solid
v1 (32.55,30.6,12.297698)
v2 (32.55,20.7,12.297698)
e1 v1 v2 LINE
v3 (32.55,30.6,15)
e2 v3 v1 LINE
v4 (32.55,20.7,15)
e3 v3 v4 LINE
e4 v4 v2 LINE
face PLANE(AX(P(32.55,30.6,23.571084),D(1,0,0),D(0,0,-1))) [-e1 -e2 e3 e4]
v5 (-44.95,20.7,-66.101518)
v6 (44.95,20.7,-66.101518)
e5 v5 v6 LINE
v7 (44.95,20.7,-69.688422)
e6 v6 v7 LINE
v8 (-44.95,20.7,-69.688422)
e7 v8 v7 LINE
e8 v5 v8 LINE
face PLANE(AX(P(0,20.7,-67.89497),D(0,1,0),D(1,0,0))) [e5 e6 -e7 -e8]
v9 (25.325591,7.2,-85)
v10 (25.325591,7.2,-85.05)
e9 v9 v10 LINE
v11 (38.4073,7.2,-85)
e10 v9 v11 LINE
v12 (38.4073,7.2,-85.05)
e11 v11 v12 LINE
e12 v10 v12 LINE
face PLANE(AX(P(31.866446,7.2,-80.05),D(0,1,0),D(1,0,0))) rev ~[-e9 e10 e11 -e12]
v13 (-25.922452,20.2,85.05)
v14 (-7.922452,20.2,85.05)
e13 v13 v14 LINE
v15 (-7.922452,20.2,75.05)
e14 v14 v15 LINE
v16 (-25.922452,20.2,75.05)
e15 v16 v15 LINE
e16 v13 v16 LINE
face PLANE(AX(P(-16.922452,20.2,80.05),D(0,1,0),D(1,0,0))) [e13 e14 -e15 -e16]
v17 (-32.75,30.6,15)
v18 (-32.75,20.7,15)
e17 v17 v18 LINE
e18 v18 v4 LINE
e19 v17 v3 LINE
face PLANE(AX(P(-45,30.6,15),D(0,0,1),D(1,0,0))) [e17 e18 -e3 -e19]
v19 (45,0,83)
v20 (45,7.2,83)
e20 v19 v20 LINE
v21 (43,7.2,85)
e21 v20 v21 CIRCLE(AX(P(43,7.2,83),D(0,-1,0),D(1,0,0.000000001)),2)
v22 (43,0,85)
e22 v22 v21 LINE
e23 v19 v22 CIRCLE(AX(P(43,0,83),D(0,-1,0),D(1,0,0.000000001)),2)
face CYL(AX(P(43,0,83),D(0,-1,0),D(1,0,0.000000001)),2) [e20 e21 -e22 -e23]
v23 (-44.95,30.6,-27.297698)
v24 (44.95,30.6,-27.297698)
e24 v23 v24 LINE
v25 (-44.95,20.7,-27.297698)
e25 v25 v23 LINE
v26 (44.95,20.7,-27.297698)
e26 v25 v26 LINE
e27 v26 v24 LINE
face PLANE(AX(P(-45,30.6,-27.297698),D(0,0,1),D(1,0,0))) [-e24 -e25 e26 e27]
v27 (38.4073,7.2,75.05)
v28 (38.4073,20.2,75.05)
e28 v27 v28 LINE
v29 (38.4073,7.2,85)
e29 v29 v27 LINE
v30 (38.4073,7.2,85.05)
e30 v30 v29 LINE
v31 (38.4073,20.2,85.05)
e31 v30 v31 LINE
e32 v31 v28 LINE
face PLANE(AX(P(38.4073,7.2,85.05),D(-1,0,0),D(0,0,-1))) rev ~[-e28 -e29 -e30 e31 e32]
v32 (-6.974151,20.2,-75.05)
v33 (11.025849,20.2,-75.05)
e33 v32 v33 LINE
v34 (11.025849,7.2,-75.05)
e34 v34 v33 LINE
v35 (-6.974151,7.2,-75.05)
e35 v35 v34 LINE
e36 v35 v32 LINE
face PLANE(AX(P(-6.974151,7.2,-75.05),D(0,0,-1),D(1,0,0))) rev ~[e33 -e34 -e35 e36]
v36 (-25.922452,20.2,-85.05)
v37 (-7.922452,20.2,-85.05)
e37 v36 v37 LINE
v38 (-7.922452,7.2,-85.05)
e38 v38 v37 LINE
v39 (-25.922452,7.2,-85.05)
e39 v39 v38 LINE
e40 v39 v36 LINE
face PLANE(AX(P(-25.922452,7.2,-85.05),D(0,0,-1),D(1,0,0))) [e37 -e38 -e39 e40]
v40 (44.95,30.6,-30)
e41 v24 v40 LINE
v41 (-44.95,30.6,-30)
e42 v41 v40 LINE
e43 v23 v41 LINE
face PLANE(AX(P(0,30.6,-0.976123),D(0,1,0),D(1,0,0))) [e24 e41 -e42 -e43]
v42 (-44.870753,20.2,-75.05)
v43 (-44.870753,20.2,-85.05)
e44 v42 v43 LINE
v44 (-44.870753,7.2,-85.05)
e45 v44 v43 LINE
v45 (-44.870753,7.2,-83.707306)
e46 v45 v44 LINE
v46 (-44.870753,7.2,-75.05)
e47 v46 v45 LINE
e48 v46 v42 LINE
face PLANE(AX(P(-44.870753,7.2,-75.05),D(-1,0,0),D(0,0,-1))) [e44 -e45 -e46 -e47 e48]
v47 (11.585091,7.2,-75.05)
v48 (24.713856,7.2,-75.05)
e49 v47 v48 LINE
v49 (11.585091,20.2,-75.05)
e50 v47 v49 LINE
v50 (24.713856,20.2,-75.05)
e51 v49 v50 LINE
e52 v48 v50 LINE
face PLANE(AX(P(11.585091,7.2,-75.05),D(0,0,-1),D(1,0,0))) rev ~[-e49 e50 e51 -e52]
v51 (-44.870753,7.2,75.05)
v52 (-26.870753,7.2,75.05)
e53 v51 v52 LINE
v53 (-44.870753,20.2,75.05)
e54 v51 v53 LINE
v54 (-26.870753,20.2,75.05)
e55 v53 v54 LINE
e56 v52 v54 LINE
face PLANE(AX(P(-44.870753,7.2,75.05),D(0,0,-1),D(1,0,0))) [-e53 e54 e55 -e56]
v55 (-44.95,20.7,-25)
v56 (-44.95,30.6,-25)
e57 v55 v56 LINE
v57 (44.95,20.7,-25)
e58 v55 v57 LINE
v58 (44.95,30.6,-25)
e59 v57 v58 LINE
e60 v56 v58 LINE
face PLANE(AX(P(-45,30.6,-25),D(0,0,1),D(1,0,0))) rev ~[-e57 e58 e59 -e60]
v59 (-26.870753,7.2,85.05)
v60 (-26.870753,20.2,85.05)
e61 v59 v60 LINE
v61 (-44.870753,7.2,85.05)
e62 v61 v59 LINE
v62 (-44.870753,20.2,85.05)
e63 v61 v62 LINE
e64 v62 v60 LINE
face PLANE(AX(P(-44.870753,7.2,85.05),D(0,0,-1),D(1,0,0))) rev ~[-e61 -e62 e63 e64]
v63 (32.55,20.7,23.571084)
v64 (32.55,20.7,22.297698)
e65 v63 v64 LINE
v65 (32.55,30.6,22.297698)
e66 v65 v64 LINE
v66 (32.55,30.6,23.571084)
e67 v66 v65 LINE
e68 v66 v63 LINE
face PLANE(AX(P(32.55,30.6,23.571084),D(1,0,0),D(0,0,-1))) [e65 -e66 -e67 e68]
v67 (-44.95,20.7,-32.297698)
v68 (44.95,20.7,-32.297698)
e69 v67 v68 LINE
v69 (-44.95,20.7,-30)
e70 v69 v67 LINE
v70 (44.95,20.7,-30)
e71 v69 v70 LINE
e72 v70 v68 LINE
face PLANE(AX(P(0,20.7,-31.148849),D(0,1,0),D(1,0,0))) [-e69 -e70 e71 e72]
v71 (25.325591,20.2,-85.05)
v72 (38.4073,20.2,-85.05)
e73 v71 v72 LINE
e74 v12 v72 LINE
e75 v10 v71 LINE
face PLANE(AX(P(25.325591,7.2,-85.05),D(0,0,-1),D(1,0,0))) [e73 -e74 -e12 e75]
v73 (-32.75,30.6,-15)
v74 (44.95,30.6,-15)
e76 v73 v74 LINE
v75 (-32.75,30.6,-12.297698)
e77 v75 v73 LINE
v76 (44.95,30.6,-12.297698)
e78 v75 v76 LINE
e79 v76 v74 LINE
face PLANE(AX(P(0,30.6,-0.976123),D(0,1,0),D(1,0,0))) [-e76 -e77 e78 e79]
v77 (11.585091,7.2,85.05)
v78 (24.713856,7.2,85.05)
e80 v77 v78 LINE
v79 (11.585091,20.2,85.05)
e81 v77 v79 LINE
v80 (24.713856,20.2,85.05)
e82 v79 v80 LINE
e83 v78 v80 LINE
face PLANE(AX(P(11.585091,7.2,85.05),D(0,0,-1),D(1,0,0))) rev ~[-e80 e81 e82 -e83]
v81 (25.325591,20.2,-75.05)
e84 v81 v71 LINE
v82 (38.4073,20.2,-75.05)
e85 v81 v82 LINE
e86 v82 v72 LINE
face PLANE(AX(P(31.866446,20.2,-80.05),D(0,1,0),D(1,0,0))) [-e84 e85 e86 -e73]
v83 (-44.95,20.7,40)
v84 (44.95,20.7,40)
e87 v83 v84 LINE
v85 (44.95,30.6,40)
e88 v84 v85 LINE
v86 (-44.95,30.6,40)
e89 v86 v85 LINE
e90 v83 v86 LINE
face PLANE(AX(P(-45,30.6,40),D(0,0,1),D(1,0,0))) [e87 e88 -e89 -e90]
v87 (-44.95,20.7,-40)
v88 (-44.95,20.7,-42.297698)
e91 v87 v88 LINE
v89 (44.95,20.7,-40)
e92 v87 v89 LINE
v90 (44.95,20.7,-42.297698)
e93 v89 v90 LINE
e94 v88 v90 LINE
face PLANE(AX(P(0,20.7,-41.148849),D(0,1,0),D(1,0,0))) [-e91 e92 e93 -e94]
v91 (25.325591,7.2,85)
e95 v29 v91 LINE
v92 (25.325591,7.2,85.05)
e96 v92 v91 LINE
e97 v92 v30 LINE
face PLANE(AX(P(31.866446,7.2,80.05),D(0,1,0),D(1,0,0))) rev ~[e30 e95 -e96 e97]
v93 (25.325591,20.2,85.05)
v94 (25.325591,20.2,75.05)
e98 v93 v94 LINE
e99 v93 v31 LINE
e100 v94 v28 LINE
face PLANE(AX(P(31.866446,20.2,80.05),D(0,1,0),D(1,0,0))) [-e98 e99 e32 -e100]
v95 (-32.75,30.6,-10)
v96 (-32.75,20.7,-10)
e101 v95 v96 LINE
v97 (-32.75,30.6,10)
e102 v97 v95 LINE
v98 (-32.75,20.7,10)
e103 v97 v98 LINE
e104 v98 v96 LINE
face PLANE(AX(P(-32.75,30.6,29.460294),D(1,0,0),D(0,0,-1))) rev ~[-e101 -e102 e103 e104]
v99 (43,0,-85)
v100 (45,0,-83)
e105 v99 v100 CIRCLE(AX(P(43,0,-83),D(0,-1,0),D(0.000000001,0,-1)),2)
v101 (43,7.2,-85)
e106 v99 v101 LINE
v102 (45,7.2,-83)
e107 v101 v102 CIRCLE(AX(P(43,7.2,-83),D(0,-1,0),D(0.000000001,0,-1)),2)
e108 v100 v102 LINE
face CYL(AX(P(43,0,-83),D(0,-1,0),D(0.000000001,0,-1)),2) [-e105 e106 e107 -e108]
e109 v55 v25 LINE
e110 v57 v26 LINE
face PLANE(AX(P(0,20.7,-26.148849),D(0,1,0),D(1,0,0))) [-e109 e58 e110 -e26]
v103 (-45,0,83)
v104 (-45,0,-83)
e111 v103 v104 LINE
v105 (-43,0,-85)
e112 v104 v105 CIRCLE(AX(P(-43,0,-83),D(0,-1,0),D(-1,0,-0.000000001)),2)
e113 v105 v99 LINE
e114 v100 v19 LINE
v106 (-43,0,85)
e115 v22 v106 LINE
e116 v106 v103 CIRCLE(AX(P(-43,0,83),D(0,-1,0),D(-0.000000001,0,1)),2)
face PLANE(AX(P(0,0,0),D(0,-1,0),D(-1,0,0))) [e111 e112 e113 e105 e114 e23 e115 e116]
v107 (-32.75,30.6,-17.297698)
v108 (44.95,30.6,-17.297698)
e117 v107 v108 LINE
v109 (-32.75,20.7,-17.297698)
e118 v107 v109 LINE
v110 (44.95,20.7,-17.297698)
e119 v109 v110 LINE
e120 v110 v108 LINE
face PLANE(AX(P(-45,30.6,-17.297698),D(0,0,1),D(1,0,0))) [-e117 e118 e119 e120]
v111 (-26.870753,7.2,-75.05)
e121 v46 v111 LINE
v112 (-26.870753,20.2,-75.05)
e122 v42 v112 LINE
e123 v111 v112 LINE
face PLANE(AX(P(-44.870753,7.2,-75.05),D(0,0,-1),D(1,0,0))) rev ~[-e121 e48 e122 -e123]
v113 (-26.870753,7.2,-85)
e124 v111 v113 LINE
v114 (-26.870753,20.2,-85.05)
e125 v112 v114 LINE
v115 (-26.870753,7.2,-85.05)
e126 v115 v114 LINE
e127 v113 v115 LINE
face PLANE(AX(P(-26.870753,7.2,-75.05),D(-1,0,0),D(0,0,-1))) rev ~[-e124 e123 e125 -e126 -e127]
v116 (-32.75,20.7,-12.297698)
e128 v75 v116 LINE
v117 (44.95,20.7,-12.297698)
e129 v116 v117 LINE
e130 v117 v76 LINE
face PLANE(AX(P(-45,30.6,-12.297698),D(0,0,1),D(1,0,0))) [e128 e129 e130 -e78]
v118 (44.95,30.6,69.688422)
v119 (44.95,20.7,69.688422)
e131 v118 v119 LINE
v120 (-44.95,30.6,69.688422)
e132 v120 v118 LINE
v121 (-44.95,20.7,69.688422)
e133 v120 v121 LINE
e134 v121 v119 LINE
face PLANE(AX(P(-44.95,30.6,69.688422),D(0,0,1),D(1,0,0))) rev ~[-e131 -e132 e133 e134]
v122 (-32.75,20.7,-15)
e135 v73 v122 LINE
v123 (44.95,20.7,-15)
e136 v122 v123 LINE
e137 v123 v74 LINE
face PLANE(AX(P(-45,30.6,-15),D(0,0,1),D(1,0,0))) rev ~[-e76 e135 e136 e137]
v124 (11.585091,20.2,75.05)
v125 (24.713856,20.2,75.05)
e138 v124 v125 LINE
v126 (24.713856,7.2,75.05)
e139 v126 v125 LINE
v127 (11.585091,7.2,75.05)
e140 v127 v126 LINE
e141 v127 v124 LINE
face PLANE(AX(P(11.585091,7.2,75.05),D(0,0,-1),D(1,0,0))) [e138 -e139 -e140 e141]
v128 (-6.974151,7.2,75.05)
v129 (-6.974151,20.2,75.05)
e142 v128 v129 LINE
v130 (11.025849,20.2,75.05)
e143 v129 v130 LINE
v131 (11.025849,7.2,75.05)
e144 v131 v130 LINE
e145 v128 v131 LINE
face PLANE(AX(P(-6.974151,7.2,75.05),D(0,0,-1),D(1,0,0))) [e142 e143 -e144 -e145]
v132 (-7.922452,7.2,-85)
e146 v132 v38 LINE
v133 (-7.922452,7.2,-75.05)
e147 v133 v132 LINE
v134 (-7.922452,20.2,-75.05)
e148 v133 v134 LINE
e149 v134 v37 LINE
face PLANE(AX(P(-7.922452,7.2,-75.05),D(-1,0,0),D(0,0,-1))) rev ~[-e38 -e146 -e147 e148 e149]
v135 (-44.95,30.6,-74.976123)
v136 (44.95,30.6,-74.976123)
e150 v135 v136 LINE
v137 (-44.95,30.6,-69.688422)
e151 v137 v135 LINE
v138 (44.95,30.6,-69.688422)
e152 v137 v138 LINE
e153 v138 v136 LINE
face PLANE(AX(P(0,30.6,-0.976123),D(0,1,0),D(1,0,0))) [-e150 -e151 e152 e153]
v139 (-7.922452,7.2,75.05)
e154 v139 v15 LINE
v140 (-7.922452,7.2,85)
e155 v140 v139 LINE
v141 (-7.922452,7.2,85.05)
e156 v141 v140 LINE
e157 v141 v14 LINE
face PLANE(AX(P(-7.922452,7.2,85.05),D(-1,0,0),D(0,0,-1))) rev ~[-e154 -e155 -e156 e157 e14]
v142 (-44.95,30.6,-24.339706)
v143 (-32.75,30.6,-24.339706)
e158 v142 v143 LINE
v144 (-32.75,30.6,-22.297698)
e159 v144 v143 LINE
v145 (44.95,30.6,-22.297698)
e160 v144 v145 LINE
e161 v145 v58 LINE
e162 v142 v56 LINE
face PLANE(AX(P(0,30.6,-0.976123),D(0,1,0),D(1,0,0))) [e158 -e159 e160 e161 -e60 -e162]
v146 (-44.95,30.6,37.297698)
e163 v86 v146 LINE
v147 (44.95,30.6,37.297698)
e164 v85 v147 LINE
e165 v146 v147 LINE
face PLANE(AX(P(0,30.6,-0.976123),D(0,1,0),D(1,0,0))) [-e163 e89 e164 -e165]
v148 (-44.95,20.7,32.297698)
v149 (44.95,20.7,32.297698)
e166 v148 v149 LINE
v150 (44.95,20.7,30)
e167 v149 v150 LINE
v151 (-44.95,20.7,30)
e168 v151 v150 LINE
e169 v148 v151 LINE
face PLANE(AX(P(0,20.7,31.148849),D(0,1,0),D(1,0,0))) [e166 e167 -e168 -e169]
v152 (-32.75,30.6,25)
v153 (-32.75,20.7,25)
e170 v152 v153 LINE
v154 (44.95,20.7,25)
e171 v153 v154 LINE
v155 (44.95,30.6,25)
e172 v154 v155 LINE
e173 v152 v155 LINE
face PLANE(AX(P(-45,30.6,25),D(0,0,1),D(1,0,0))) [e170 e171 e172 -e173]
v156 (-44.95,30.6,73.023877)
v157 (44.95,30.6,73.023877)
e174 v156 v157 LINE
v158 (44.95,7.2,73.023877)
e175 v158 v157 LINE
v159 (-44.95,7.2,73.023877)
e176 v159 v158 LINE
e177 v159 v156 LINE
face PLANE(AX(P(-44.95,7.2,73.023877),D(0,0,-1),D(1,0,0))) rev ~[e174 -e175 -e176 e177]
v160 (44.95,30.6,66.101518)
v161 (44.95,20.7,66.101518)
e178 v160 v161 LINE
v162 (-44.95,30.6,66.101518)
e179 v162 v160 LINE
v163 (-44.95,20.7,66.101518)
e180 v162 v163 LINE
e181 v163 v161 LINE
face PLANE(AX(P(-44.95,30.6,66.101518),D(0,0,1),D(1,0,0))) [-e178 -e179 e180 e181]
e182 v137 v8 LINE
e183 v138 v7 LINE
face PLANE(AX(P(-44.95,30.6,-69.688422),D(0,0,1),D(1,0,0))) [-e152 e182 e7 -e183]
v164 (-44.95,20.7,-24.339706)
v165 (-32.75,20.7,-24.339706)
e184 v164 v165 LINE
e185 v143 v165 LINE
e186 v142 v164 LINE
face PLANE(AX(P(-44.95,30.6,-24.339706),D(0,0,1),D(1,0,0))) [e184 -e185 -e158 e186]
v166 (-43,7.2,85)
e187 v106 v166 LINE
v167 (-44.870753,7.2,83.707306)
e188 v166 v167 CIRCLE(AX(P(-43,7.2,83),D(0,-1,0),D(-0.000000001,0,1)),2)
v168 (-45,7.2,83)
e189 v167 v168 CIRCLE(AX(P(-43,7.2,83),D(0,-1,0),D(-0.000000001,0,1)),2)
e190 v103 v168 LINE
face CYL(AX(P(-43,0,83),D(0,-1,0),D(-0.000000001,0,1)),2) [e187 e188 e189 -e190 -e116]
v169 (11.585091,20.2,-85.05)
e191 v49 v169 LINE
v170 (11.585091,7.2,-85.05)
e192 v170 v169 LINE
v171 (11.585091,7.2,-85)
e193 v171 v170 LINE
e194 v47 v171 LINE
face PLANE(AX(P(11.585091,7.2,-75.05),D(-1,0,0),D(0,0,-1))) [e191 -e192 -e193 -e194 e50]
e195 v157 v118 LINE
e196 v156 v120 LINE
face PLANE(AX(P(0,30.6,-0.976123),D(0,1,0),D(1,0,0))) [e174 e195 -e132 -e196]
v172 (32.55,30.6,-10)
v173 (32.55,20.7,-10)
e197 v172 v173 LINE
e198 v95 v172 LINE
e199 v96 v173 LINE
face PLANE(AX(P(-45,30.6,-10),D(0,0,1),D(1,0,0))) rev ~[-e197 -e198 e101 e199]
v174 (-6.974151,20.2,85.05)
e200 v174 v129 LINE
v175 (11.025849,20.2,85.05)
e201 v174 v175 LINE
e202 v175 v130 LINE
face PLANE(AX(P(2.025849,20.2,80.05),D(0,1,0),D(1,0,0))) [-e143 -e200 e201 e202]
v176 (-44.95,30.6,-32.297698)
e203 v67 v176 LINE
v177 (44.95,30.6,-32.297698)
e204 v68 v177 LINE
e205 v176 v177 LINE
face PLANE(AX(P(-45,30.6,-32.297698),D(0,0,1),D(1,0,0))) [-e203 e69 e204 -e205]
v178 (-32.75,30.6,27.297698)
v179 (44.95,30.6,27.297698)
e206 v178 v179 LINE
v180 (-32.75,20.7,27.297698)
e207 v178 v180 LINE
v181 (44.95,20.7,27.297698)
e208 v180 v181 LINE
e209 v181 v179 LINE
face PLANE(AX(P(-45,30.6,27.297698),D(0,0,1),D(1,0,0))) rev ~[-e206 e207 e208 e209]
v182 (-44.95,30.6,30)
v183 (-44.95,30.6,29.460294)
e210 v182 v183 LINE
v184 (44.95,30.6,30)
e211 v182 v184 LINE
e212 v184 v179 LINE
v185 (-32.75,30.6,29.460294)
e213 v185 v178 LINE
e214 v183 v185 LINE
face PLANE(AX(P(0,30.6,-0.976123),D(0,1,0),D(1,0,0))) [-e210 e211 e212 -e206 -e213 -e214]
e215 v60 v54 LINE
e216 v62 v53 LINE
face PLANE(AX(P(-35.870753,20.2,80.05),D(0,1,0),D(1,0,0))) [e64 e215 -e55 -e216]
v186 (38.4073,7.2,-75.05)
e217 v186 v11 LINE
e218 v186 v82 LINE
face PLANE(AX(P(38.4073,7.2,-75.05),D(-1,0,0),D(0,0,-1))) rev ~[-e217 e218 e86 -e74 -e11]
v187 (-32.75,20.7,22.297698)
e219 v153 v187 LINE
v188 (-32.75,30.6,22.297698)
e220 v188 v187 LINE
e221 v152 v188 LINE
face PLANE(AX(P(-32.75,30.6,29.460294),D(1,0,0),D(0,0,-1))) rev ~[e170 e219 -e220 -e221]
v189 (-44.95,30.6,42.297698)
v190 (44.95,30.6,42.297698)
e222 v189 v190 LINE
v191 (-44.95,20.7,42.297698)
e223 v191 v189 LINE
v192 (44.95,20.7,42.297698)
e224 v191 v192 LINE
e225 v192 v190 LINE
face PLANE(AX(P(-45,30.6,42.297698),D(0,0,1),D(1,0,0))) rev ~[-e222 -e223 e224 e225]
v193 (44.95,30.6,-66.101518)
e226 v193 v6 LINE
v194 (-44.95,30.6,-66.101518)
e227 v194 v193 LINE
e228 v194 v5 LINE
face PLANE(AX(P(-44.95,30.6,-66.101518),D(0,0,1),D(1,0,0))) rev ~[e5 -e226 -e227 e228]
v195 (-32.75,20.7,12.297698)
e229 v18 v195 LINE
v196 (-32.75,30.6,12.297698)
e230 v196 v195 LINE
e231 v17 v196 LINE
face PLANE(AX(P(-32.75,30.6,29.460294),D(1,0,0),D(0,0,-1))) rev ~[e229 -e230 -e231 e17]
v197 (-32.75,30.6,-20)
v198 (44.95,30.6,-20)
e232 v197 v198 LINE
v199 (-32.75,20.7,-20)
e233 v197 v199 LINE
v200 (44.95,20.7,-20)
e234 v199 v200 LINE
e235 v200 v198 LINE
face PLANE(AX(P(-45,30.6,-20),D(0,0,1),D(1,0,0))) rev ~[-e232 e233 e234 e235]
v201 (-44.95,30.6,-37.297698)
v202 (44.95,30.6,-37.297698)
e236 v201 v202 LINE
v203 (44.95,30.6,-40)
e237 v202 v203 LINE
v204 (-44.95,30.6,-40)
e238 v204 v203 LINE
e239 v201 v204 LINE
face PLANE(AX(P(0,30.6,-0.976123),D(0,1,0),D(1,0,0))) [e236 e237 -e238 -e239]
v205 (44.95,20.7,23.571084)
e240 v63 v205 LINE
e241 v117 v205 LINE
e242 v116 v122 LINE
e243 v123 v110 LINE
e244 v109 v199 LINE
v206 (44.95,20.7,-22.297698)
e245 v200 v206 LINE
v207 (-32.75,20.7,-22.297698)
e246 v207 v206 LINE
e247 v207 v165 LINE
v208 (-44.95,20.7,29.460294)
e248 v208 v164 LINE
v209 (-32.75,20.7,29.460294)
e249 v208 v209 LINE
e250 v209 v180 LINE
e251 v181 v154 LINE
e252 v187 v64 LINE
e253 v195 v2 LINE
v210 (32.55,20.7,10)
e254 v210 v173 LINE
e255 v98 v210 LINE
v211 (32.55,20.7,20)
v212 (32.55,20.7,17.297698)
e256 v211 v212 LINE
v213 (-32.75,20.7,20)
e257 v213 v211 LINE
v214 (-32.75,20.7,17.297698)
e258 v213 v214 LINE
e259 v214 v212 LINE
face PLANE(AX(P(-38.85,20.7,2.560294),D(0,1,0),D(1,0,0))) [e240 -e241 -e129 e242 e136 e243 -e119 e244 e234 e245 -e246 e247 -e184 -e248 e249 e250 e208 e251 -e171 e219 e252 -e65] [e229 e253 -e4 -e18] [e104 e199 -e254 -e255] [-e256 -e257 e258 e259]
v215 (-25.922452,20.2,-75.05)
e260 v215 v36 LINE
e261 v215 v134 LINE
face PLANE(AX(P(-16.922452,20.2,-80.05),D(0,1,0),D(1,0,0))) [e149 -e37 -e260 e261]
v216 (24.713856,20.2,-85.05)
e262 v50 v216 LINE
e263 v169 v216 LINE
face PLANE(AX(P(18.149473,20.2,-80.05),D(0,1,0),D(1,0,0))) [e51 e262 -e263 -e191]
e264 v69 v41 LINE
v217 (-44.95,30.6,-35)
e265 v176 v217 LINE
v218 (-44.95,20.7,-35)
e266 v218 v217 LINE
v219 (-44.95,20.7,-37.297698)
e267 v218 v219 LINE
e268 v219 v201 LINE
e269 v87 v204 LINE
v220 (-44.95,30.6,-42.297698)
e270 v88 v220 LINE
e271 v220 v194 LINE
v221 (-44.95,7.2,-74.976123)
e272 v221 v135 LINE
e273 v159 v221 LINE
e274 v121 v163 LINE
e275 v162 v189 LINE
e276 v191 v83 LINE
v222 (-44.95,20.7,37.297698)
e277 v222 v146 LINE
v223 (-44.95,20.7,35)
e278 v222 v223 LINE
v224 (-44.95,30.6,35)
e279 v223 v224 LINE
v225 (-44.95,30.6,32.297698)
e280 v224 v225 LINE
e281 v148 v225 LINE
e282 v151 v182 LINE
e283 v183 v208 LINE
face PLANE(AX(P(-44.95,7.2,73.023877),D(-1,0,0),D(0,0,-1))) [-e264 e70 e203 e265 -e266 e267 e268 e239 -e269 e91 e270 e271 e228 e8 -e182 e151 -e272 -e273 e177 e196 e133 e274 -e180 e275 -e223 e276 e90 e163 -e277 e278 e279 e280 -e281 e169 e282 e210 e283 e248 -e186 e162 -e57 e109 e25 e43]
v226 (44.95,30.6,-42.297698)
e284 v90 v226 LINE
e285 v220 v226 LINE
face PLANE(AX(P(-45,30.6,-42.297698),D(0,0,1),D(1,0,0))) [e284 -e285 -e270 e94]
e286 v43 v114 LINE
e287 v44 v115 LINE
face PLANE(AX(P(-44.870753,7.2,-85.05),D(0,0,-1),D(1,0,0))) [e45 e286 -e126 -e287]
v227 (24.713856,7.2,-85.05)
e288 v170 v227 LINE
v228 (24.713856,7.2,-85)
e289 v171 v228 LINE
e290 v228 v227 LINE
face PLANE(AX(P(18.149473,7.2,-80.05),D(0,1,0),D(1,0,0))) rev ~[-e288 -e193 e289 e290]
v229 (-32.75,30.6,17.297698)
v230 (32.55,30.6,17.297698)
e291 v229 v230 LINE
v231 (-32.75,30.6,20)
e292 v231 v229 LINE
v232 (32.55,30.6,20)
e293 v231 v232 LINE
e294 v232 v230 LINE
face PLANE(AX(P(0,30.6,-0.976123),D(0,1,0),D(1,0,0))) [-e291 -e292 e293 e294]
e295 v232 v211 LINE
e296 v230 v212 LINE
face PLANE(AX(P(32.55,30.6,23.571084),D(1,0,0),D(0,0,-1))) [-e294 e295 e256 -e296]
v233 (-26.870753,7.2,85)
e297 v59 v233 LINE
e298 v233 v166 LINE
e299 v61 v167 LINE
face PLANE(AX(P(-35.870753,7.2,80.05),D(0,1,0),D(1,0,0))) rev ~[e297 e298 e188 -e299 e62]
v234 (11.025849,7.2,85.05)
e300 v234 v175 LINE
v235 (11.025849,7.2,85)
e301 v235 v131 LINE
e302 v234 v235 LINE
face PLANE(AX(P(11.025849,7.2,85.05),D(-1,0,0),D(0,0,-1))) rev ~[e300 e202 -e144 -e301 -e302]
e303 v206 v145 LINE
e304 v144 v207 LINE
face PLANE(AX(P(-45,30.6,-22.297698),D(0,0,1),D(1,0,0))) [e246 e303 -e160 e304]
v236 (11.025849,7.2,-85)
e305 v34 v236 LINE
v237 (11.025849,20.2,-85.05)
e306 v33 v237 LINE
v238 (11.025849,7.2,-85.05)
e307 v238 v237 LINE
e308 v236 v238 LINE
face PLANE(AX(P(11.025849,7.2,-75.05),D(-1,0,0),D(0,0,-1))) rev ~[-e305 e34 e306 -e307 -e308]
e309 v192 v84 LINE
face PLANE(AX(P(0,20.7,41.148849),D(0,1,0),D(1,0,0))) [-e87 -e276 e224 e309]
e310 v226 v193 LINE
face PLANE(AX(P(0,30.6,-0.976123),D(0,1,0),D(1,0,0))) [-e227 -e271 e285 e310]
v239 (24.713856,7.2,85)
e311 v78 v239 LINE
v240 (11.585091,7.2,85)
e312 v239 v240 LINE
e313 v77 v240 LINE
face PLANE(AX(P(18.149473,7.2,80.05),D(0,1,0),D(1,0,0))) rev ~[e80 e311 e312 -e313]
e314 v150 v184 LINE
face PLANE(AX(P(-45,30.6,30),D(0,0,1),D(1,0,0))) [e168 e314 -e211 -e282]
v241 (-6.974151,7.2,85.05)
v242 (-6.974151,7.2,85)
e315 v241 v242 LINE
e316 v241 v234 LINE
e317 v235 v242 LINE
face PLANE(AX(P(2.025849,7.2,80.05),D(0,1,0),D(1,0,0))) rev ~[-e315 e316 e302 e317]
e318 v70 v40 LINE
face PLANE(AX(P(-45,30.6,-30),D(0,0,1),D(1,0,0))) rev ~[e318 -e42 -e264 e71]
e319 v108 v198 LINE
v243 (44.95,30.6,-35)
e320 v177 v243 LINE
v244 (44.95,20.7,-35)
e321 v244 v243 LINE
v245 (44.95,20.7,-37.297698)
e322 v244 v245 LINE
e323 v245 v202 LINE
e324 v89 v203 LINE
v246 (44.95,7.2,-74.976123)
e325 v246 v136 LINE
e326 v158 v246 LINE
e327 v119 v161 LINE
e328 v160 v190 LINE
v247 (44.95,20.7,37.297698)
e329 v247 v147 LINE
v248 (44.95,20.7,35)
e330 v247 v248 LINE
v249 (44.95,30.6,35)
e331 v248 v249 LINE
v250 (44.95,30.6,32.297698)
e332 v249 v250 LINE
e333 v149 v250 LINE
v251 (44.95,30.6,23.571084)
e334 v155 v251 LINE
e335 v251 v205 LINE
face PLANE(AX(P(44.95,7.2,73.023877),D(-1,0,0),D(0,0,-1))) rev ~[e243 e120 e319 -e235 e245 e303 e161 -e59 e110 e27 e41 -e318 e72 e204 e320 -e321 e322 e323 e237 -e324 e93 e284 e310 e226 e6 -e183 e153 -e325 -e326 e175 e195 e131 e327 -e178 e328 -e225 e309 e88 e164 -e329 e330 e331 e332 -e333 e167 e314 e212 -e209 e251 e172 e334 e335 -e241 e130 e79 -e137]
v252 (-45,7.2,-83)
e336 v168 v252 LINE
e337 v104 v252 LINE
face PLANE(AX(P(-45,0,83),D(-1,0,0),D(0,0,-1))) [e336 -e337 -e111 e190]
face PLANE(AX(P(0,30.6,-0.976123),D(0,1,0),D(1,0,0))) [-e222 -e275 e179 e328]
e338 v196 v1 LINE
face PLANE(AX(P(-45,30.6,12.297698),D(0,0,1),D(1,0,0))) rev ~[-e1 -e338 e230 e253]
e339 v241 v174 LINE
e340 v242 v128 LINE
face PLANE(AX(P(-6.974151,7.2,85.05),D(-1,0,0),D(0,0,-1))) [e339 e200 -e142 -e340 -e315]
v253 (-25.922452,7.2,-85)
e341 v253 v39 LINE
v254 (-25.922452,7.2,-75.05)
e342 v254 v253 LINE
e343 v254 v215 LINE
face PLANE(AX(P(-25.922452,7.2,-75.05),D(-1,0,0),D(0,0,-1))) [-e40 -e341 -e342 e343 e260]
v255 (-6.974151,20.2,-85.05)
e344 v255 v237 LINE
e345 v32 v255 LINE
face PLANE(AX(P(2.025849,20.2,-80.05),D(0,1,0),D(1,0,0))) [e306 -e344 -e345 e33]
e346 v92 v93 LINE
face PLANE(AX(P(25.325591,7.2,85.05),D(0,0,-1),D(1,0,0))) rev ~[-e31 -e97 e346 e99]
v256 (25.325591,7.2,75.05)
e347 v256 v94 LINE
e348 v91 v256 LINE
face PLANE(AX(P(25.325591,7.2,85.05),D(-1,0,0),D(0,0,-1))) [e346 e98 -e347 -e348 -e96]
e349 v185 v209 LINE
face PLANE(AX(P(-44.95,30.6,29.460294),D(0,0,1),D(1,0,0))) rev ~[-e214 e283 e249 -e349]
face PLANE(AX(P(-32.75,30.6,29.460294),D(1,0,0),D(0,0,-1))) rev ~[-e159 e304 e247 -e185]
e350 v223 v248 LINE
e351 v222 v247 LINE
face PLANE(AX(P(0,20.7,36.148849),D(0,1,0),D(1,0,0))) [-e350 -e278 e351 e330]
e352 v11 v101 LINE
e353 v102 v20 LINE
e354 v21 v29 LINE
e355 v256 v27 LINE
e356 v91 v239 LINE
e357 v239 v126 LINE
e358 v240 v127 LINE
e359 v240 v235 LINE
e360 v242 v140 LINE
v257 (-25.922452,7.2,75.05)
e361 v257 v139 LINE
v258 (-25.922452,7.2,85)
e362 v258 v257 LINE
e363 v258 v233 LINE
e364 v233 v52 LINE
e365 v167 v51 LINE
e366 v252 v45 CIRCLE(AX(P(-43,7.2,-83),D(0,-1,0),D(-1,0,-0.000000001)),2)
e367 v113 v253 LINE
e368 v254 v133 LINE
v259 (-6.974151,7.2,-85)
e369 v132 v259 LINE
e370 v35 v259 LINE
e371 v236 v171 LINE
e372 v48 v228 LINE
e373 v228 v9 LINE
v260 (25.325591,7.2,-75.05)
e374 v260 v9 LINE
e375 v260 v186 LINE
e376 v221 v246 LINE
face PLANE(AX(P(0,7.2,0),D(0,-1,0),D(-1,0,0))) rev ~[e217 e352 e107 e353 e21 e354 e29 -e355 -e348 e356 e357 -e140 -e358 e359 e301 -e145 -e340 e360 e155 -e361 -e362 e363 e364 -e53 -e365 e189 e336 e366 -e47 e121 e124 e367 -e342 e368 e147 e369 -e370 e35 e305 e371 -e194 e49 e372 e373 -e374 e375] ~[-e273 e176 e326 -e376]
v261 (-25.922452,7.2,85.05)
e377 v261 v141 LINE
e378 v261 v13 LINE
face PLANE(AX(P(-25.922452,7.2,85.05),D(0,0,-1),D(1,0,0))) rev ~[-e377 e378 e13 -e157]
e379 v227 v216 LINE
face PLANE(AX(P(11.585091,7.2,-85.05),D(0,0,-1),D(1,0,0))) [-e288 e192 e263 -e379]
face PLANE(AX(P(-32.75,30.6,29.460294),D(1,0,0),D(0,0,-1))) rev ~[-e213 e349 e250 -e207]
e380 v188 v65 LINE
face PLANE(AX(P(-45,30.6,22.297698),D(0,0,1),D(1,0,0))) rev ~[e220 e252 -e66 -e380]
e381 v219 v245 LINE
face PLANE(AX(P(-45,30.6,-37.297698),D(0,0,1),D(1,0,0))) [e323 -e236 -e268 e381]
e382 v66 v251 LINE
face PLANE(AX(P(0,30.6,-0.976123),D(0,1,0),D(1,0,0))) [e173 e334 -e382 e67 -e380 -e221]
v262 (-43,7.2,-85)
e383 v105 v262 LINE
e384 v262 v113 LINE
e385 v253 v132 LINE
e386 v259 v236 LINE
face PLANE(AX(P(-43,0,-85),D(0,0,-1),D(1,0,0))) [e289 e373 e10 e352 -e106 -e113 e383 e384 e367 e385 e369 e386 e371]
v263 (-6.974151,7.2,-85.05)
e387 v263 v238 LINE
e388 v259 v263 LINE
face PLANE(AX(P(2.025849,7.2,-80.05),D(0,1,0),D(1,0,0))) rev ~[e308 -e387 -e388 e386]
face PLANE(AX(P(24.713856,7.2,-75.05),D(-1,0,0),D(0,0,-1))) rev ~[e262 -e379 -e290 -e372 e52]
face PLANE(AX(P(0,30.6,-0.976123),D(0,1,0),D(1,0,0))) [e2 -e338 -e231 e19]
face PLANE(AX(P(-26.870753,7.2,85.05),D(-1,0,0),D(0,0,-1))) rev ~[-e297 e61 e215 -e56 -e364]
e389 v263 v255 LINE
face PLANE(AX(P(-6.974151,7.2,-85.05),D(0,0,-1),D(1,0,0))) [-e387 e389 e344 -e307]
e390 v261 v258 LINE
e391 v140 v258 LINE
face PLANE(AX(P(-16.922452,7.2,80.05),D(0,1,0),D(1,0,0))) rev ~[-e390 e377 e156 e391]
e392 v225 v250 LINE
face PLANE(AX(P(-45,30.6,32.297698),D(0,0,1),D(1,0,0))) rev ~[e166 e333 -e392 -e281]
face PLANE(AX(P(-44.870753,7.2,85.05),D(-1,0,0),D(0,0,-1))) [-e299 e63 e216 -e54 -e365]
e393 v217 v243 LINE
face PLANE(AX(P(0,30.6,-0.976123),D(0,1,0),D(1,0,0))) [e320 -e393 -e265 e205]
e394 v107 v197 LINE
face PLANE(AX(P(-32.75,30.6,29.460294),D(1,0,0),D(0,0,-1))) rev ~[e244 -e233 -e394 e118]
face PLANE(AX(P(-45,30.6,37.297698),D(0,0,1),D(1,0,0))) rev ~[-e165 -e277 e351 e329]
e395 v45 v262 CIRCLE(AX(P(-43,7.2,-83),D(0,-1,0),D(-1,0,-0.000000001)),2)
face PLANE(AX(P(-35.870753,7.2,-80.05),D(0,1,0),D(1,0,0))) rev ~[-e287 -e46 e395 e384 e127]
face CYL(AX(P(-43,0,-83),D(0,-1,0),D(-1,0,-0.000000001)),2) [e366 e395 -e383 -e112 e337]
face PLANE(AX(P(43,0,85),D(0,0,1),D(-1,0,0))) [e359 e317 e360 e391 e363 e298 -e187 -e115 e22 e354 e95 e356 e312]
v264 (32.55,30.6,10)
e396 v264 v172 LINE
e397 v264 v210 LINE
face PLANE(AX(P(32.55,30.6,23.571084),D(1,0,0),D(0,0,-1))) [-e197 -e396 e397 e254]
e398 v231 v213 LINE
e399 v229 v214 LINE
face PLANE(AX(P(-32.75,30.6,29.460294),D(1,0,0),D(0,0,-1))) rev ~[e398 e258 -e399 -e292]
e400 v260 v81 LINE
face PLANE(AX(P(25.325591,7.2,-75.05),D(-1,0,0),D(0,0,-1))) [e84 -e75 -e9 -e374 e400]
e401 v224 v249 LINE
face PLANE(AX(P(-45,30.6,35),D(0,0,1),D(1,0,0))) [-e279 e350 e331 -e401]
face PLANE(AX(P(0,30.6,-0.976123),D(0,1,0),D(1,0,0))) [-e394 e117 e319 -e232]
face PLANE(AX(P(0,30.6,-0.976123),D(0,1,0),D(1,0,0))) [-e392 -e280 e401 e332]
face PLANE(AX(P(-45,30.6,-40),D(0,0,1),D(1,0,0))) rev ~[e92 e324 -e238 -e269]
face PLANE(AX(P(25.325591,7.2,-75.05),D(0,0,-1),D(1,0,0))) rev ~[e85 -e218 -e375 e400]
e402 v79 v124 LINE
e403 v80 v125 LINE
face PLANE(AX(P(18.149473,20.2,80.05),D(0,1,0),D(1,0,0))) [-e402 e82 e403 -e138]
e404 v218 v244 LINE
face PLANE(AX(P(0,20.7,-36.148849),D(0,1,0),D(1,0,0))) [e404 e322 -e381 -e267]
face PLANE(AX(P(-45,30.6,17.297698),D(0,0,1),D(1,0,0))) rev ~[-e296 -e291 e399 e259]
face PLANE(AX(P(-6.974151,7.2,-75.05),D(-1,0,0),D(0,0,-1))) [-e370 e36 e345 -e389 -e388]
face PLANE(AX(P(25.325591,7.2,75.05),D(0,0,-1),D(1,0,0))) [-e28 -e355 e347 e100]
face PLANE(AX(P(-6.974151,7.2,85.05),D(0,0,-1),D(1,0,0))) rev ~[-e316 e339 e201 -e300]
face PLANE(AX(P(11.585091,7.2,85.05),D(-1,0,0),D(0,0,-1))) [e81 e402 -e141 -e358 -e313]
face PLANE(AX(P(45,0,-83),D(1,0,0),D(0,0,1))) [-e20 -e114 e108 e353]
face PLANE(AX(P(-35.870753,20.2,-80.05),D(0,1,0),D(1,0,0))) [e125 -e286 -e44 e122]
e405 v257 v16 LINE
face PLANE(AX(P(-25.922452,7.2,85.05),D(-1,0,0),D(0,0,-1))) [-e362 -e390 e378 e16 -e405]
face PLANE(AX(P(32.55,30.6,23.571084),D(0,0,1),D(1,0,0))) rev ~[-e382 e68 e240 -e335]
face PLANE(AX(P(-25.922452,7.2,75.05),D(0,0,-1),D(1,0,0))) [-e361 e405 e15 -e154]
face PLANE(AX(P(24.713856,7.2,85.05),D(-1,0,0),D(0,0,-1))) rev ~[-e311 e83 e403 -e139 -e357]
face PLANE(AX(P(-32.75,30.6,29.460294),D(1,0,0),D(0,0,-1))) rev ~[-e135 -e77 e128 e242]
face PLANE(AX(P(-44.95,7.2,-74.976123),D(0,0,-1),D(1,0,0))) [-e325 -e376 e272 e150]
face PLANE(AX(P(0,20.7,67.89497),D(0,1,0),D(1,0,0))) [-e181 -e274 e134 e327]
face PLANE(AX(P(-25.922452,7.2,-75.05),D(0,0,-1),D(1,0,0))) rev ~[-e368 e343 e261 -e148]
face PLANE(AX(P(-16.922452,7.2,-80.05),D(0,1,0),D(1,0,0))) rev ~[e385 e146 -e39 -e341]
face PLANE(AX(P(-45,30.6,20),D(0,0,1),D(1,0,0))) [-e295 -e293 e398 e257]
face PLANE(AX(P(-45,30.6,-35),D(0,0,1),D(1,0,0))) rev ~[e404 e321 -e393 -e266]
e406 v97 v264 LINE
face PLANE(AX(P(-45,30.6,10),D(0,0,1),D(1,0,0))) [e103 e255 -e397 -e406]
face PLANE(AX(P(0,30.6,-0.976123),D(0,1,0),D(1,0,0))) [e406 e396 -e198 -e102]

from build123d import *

# Parameters (mm, degrees)
BOSS_EXTRUDE1_DEPTH = 7.2
SKETCH2_W           = 89.9
SKETCH2_H           = 148
BOSS_EXTRUDE2_DEPTH = 23.4
SKETCH3_W           = 12.2
SKETCH3_H           = 53.8
SKETCH3_W_2         = 12.4
SKETCH3_H_2         = 34.48
CUT_EXTRUDE1_DEPTH  = 9.9
SKETCH4_W           = 89.9
SKETCH4_H           = 3.586904051
SKETCH4_W_2         = 90
SKETCH4_H_2         = 2.297698364
CUT_EXTRUDE2_DEPTH  = 9.9
SKETCH5_W           = 18
SKETCH5_H           = 10
SKETCH5_W_2         = 13.128765808
SKETCH5_W_3         = 13.081709299
BOSS_EXTRUDE3_DEPTH = 13


with BuildPart() as part:
    # Sketch1 → Boss-Extrude1 (new body)
    with BuildSketch(Plane(origin=(0, 0, 0), x_dir=(1, 0, 0), z_dir=(0, 1, 0))):
        with BuildLine():
            Line((43, -85), (-43, -85))
            ThreePointArc((-43, -85), (-44.414213562, -84.414213562), (-45, -83))
            Line((-45, -83), (-45, 83))
            ThreePointArc((-45, 83), (-44.414213562, 84.414213562), (-43, 85))
            Line((-43, 85), (43, 85))
            ThreePointArc((43, 85), (44.414213562, 84.414213562), (45, 83))
            Line((45, 83), (45, -83))
            ThreePointArc((45, -83), (44.414213562, -84.414213562), (43, -85))
        make_face()
    extrude(amount=BOSS_EXTRUDE1_DEPTH)

    # Sketch2 → Boss-Extrude2 (add)
    with BuildSketch(Plane(origin=(0, 7.2, 0), x_dir=(1, 0, 0), z_dir=(0, 1, 0))):
        with Locations((0, 0.976122618)):
            Rectangle(SKETCH2_W, SKETCH2_H)
    extrude(amount=BOSS_EXTRUDE2_DEPTH)

    # Sketch3 → Cut-Extrude1 (cut)
    with BuildSketch(Plane(origin=(0, 30.6, 0), x_dir=(1, 0, 0), z_dir=(0, 1, 0))):
        with Locations((-38.85, -2.560293939)):
            Rectangle(SKETCH3_W, SKETCH3_H)
        with Locations((38.75, -6.331083764)):
            Rectangle(SKETCH3_W_2, SKETCH3_H_2)
    extrude(amount=-CUT_EXTRUDE1_DEPTH, mode=Mode.SUBTRACT)

    # Sketch4 → Cut-Extrude2 (cut)
    with BuildSketch(Plane(origin=(0, 30.6, 0), x_dir=(1, 0, 0), z_dir=(0, 1, 0))):
        with Locations((0, 67.894969538)):
            Rectangle(SKETCH4_W, SKETCH4_H)
        with Locations((0, 11.148849182)):
            Rectangle(SKETCH4_W_2, SKETCH4_H_2)
        with Locations((0, 16.148849182)):
            Rectangle(SKETCH4_W_2, SKETCH4_H_2)
        with Locations((0, 21.148849182)):
            Rectangle(SKETCH4_W_2, SKETCH4_H_2)
        with Locations((0, 26.148849182)):
            Rectangle(SKETCH4_W_2, SKETCH4_H_2)
        with Locations((0, 31.148849182)):
            Rectangle(SKETCH4_W_2, SKETCH4_H_2)
        with Locations((0, 36.148849182)):
            Rectangle(SKETCH4_W_2, SKETCH4_H_2)
        with Locations((0, 41.148849182)):
            Rectangle(SKETCH4_W_2, SKETCH4_H_2)
        with Locations((0, -41.148849182)):
            Rectangle(SKETCH4_W_2, SKETCH4_H_2)
        with Locations((0, -36.148849182)):
            Rectangle(SKETCH4_W_2, SKETCH4_H_2)
        with Locations((0, -31.148849182)):
            Rectangle(SKETCH4_W_2, SKETCH4_H_2)
        with Locations((0, -26.148849182)):
            Rectangle(SKETCH4_W_2, SKETCH4_H_2)
        with Locations((0, -21.148849182)):
            Rectangle(SKETCH4_W_2, SKETCH4_H_2)
        with Locations((0, -16.148849182)):
            Rectangle(SKETCH4_W_2, SKETCH4_H_2)
        with Locations((0, -11.148849182)):
            Rectangle(SKETCH4_W_2, SKETCH4_H_2)
        with Locations((0, -67.894969538)):
            Rectangle(SKETCH4_W, SKETCH4_H)
    extrude(amount=-CUT_EXTRUDE2_DEPTH, mode=Mode.SUBTRACT)

    # Sketch5 → Boss-Extrude3 (add)
    with BuildSketch(Plane(origin=(0, 7.2, 0), x_dir=(1, 0, 0), z_dir=(0, 1, 0))):
        with Locations((-35.870753406, -80.05)):
            Rectangle(SKETCH5_W, SKETCH5_H)
        with Locations((-16.922452044, -80.05)):
            Rectangle(SKETCH5_W, SKETCH5_H)
        with Locations((2.025849319, -80.05)):
            Rectangle(SKETCH5_W, SKETCH5_H)
        with Locations((18.149473412, -80.05)):
            Rectangle(SKETCH5_W_2, SKETCH5_H)
        with Locations((31.866445574, -80.05)):
            Rectangle(SKETCH5_W_3, SKETCH5_H)
        with Locations((31.866445574, 80.05)):
            Rectangle(SKETCH5_W_3, SKETCH5_H)
        with Locations((18.149473412, 80.05)):
            Rectangle(SKETCH5_W_2, SKETCH5_H)
        with Locations((2.025849319, 80.05)):
            Rectangle(SKETCH5_W, SKETCH5_H)
        with Locations((-16.922452044, 80.05)):
            Rectangle(SKETCH5_W, SKETCH5_H)
        with Locations((-35.870753406, 80.05)):
            Rectangle(SKETCH5_W, SKETCH5_H)
    extrude(amount=BOSS_EXTRUDE3_DEPTH)


solid = part.part
